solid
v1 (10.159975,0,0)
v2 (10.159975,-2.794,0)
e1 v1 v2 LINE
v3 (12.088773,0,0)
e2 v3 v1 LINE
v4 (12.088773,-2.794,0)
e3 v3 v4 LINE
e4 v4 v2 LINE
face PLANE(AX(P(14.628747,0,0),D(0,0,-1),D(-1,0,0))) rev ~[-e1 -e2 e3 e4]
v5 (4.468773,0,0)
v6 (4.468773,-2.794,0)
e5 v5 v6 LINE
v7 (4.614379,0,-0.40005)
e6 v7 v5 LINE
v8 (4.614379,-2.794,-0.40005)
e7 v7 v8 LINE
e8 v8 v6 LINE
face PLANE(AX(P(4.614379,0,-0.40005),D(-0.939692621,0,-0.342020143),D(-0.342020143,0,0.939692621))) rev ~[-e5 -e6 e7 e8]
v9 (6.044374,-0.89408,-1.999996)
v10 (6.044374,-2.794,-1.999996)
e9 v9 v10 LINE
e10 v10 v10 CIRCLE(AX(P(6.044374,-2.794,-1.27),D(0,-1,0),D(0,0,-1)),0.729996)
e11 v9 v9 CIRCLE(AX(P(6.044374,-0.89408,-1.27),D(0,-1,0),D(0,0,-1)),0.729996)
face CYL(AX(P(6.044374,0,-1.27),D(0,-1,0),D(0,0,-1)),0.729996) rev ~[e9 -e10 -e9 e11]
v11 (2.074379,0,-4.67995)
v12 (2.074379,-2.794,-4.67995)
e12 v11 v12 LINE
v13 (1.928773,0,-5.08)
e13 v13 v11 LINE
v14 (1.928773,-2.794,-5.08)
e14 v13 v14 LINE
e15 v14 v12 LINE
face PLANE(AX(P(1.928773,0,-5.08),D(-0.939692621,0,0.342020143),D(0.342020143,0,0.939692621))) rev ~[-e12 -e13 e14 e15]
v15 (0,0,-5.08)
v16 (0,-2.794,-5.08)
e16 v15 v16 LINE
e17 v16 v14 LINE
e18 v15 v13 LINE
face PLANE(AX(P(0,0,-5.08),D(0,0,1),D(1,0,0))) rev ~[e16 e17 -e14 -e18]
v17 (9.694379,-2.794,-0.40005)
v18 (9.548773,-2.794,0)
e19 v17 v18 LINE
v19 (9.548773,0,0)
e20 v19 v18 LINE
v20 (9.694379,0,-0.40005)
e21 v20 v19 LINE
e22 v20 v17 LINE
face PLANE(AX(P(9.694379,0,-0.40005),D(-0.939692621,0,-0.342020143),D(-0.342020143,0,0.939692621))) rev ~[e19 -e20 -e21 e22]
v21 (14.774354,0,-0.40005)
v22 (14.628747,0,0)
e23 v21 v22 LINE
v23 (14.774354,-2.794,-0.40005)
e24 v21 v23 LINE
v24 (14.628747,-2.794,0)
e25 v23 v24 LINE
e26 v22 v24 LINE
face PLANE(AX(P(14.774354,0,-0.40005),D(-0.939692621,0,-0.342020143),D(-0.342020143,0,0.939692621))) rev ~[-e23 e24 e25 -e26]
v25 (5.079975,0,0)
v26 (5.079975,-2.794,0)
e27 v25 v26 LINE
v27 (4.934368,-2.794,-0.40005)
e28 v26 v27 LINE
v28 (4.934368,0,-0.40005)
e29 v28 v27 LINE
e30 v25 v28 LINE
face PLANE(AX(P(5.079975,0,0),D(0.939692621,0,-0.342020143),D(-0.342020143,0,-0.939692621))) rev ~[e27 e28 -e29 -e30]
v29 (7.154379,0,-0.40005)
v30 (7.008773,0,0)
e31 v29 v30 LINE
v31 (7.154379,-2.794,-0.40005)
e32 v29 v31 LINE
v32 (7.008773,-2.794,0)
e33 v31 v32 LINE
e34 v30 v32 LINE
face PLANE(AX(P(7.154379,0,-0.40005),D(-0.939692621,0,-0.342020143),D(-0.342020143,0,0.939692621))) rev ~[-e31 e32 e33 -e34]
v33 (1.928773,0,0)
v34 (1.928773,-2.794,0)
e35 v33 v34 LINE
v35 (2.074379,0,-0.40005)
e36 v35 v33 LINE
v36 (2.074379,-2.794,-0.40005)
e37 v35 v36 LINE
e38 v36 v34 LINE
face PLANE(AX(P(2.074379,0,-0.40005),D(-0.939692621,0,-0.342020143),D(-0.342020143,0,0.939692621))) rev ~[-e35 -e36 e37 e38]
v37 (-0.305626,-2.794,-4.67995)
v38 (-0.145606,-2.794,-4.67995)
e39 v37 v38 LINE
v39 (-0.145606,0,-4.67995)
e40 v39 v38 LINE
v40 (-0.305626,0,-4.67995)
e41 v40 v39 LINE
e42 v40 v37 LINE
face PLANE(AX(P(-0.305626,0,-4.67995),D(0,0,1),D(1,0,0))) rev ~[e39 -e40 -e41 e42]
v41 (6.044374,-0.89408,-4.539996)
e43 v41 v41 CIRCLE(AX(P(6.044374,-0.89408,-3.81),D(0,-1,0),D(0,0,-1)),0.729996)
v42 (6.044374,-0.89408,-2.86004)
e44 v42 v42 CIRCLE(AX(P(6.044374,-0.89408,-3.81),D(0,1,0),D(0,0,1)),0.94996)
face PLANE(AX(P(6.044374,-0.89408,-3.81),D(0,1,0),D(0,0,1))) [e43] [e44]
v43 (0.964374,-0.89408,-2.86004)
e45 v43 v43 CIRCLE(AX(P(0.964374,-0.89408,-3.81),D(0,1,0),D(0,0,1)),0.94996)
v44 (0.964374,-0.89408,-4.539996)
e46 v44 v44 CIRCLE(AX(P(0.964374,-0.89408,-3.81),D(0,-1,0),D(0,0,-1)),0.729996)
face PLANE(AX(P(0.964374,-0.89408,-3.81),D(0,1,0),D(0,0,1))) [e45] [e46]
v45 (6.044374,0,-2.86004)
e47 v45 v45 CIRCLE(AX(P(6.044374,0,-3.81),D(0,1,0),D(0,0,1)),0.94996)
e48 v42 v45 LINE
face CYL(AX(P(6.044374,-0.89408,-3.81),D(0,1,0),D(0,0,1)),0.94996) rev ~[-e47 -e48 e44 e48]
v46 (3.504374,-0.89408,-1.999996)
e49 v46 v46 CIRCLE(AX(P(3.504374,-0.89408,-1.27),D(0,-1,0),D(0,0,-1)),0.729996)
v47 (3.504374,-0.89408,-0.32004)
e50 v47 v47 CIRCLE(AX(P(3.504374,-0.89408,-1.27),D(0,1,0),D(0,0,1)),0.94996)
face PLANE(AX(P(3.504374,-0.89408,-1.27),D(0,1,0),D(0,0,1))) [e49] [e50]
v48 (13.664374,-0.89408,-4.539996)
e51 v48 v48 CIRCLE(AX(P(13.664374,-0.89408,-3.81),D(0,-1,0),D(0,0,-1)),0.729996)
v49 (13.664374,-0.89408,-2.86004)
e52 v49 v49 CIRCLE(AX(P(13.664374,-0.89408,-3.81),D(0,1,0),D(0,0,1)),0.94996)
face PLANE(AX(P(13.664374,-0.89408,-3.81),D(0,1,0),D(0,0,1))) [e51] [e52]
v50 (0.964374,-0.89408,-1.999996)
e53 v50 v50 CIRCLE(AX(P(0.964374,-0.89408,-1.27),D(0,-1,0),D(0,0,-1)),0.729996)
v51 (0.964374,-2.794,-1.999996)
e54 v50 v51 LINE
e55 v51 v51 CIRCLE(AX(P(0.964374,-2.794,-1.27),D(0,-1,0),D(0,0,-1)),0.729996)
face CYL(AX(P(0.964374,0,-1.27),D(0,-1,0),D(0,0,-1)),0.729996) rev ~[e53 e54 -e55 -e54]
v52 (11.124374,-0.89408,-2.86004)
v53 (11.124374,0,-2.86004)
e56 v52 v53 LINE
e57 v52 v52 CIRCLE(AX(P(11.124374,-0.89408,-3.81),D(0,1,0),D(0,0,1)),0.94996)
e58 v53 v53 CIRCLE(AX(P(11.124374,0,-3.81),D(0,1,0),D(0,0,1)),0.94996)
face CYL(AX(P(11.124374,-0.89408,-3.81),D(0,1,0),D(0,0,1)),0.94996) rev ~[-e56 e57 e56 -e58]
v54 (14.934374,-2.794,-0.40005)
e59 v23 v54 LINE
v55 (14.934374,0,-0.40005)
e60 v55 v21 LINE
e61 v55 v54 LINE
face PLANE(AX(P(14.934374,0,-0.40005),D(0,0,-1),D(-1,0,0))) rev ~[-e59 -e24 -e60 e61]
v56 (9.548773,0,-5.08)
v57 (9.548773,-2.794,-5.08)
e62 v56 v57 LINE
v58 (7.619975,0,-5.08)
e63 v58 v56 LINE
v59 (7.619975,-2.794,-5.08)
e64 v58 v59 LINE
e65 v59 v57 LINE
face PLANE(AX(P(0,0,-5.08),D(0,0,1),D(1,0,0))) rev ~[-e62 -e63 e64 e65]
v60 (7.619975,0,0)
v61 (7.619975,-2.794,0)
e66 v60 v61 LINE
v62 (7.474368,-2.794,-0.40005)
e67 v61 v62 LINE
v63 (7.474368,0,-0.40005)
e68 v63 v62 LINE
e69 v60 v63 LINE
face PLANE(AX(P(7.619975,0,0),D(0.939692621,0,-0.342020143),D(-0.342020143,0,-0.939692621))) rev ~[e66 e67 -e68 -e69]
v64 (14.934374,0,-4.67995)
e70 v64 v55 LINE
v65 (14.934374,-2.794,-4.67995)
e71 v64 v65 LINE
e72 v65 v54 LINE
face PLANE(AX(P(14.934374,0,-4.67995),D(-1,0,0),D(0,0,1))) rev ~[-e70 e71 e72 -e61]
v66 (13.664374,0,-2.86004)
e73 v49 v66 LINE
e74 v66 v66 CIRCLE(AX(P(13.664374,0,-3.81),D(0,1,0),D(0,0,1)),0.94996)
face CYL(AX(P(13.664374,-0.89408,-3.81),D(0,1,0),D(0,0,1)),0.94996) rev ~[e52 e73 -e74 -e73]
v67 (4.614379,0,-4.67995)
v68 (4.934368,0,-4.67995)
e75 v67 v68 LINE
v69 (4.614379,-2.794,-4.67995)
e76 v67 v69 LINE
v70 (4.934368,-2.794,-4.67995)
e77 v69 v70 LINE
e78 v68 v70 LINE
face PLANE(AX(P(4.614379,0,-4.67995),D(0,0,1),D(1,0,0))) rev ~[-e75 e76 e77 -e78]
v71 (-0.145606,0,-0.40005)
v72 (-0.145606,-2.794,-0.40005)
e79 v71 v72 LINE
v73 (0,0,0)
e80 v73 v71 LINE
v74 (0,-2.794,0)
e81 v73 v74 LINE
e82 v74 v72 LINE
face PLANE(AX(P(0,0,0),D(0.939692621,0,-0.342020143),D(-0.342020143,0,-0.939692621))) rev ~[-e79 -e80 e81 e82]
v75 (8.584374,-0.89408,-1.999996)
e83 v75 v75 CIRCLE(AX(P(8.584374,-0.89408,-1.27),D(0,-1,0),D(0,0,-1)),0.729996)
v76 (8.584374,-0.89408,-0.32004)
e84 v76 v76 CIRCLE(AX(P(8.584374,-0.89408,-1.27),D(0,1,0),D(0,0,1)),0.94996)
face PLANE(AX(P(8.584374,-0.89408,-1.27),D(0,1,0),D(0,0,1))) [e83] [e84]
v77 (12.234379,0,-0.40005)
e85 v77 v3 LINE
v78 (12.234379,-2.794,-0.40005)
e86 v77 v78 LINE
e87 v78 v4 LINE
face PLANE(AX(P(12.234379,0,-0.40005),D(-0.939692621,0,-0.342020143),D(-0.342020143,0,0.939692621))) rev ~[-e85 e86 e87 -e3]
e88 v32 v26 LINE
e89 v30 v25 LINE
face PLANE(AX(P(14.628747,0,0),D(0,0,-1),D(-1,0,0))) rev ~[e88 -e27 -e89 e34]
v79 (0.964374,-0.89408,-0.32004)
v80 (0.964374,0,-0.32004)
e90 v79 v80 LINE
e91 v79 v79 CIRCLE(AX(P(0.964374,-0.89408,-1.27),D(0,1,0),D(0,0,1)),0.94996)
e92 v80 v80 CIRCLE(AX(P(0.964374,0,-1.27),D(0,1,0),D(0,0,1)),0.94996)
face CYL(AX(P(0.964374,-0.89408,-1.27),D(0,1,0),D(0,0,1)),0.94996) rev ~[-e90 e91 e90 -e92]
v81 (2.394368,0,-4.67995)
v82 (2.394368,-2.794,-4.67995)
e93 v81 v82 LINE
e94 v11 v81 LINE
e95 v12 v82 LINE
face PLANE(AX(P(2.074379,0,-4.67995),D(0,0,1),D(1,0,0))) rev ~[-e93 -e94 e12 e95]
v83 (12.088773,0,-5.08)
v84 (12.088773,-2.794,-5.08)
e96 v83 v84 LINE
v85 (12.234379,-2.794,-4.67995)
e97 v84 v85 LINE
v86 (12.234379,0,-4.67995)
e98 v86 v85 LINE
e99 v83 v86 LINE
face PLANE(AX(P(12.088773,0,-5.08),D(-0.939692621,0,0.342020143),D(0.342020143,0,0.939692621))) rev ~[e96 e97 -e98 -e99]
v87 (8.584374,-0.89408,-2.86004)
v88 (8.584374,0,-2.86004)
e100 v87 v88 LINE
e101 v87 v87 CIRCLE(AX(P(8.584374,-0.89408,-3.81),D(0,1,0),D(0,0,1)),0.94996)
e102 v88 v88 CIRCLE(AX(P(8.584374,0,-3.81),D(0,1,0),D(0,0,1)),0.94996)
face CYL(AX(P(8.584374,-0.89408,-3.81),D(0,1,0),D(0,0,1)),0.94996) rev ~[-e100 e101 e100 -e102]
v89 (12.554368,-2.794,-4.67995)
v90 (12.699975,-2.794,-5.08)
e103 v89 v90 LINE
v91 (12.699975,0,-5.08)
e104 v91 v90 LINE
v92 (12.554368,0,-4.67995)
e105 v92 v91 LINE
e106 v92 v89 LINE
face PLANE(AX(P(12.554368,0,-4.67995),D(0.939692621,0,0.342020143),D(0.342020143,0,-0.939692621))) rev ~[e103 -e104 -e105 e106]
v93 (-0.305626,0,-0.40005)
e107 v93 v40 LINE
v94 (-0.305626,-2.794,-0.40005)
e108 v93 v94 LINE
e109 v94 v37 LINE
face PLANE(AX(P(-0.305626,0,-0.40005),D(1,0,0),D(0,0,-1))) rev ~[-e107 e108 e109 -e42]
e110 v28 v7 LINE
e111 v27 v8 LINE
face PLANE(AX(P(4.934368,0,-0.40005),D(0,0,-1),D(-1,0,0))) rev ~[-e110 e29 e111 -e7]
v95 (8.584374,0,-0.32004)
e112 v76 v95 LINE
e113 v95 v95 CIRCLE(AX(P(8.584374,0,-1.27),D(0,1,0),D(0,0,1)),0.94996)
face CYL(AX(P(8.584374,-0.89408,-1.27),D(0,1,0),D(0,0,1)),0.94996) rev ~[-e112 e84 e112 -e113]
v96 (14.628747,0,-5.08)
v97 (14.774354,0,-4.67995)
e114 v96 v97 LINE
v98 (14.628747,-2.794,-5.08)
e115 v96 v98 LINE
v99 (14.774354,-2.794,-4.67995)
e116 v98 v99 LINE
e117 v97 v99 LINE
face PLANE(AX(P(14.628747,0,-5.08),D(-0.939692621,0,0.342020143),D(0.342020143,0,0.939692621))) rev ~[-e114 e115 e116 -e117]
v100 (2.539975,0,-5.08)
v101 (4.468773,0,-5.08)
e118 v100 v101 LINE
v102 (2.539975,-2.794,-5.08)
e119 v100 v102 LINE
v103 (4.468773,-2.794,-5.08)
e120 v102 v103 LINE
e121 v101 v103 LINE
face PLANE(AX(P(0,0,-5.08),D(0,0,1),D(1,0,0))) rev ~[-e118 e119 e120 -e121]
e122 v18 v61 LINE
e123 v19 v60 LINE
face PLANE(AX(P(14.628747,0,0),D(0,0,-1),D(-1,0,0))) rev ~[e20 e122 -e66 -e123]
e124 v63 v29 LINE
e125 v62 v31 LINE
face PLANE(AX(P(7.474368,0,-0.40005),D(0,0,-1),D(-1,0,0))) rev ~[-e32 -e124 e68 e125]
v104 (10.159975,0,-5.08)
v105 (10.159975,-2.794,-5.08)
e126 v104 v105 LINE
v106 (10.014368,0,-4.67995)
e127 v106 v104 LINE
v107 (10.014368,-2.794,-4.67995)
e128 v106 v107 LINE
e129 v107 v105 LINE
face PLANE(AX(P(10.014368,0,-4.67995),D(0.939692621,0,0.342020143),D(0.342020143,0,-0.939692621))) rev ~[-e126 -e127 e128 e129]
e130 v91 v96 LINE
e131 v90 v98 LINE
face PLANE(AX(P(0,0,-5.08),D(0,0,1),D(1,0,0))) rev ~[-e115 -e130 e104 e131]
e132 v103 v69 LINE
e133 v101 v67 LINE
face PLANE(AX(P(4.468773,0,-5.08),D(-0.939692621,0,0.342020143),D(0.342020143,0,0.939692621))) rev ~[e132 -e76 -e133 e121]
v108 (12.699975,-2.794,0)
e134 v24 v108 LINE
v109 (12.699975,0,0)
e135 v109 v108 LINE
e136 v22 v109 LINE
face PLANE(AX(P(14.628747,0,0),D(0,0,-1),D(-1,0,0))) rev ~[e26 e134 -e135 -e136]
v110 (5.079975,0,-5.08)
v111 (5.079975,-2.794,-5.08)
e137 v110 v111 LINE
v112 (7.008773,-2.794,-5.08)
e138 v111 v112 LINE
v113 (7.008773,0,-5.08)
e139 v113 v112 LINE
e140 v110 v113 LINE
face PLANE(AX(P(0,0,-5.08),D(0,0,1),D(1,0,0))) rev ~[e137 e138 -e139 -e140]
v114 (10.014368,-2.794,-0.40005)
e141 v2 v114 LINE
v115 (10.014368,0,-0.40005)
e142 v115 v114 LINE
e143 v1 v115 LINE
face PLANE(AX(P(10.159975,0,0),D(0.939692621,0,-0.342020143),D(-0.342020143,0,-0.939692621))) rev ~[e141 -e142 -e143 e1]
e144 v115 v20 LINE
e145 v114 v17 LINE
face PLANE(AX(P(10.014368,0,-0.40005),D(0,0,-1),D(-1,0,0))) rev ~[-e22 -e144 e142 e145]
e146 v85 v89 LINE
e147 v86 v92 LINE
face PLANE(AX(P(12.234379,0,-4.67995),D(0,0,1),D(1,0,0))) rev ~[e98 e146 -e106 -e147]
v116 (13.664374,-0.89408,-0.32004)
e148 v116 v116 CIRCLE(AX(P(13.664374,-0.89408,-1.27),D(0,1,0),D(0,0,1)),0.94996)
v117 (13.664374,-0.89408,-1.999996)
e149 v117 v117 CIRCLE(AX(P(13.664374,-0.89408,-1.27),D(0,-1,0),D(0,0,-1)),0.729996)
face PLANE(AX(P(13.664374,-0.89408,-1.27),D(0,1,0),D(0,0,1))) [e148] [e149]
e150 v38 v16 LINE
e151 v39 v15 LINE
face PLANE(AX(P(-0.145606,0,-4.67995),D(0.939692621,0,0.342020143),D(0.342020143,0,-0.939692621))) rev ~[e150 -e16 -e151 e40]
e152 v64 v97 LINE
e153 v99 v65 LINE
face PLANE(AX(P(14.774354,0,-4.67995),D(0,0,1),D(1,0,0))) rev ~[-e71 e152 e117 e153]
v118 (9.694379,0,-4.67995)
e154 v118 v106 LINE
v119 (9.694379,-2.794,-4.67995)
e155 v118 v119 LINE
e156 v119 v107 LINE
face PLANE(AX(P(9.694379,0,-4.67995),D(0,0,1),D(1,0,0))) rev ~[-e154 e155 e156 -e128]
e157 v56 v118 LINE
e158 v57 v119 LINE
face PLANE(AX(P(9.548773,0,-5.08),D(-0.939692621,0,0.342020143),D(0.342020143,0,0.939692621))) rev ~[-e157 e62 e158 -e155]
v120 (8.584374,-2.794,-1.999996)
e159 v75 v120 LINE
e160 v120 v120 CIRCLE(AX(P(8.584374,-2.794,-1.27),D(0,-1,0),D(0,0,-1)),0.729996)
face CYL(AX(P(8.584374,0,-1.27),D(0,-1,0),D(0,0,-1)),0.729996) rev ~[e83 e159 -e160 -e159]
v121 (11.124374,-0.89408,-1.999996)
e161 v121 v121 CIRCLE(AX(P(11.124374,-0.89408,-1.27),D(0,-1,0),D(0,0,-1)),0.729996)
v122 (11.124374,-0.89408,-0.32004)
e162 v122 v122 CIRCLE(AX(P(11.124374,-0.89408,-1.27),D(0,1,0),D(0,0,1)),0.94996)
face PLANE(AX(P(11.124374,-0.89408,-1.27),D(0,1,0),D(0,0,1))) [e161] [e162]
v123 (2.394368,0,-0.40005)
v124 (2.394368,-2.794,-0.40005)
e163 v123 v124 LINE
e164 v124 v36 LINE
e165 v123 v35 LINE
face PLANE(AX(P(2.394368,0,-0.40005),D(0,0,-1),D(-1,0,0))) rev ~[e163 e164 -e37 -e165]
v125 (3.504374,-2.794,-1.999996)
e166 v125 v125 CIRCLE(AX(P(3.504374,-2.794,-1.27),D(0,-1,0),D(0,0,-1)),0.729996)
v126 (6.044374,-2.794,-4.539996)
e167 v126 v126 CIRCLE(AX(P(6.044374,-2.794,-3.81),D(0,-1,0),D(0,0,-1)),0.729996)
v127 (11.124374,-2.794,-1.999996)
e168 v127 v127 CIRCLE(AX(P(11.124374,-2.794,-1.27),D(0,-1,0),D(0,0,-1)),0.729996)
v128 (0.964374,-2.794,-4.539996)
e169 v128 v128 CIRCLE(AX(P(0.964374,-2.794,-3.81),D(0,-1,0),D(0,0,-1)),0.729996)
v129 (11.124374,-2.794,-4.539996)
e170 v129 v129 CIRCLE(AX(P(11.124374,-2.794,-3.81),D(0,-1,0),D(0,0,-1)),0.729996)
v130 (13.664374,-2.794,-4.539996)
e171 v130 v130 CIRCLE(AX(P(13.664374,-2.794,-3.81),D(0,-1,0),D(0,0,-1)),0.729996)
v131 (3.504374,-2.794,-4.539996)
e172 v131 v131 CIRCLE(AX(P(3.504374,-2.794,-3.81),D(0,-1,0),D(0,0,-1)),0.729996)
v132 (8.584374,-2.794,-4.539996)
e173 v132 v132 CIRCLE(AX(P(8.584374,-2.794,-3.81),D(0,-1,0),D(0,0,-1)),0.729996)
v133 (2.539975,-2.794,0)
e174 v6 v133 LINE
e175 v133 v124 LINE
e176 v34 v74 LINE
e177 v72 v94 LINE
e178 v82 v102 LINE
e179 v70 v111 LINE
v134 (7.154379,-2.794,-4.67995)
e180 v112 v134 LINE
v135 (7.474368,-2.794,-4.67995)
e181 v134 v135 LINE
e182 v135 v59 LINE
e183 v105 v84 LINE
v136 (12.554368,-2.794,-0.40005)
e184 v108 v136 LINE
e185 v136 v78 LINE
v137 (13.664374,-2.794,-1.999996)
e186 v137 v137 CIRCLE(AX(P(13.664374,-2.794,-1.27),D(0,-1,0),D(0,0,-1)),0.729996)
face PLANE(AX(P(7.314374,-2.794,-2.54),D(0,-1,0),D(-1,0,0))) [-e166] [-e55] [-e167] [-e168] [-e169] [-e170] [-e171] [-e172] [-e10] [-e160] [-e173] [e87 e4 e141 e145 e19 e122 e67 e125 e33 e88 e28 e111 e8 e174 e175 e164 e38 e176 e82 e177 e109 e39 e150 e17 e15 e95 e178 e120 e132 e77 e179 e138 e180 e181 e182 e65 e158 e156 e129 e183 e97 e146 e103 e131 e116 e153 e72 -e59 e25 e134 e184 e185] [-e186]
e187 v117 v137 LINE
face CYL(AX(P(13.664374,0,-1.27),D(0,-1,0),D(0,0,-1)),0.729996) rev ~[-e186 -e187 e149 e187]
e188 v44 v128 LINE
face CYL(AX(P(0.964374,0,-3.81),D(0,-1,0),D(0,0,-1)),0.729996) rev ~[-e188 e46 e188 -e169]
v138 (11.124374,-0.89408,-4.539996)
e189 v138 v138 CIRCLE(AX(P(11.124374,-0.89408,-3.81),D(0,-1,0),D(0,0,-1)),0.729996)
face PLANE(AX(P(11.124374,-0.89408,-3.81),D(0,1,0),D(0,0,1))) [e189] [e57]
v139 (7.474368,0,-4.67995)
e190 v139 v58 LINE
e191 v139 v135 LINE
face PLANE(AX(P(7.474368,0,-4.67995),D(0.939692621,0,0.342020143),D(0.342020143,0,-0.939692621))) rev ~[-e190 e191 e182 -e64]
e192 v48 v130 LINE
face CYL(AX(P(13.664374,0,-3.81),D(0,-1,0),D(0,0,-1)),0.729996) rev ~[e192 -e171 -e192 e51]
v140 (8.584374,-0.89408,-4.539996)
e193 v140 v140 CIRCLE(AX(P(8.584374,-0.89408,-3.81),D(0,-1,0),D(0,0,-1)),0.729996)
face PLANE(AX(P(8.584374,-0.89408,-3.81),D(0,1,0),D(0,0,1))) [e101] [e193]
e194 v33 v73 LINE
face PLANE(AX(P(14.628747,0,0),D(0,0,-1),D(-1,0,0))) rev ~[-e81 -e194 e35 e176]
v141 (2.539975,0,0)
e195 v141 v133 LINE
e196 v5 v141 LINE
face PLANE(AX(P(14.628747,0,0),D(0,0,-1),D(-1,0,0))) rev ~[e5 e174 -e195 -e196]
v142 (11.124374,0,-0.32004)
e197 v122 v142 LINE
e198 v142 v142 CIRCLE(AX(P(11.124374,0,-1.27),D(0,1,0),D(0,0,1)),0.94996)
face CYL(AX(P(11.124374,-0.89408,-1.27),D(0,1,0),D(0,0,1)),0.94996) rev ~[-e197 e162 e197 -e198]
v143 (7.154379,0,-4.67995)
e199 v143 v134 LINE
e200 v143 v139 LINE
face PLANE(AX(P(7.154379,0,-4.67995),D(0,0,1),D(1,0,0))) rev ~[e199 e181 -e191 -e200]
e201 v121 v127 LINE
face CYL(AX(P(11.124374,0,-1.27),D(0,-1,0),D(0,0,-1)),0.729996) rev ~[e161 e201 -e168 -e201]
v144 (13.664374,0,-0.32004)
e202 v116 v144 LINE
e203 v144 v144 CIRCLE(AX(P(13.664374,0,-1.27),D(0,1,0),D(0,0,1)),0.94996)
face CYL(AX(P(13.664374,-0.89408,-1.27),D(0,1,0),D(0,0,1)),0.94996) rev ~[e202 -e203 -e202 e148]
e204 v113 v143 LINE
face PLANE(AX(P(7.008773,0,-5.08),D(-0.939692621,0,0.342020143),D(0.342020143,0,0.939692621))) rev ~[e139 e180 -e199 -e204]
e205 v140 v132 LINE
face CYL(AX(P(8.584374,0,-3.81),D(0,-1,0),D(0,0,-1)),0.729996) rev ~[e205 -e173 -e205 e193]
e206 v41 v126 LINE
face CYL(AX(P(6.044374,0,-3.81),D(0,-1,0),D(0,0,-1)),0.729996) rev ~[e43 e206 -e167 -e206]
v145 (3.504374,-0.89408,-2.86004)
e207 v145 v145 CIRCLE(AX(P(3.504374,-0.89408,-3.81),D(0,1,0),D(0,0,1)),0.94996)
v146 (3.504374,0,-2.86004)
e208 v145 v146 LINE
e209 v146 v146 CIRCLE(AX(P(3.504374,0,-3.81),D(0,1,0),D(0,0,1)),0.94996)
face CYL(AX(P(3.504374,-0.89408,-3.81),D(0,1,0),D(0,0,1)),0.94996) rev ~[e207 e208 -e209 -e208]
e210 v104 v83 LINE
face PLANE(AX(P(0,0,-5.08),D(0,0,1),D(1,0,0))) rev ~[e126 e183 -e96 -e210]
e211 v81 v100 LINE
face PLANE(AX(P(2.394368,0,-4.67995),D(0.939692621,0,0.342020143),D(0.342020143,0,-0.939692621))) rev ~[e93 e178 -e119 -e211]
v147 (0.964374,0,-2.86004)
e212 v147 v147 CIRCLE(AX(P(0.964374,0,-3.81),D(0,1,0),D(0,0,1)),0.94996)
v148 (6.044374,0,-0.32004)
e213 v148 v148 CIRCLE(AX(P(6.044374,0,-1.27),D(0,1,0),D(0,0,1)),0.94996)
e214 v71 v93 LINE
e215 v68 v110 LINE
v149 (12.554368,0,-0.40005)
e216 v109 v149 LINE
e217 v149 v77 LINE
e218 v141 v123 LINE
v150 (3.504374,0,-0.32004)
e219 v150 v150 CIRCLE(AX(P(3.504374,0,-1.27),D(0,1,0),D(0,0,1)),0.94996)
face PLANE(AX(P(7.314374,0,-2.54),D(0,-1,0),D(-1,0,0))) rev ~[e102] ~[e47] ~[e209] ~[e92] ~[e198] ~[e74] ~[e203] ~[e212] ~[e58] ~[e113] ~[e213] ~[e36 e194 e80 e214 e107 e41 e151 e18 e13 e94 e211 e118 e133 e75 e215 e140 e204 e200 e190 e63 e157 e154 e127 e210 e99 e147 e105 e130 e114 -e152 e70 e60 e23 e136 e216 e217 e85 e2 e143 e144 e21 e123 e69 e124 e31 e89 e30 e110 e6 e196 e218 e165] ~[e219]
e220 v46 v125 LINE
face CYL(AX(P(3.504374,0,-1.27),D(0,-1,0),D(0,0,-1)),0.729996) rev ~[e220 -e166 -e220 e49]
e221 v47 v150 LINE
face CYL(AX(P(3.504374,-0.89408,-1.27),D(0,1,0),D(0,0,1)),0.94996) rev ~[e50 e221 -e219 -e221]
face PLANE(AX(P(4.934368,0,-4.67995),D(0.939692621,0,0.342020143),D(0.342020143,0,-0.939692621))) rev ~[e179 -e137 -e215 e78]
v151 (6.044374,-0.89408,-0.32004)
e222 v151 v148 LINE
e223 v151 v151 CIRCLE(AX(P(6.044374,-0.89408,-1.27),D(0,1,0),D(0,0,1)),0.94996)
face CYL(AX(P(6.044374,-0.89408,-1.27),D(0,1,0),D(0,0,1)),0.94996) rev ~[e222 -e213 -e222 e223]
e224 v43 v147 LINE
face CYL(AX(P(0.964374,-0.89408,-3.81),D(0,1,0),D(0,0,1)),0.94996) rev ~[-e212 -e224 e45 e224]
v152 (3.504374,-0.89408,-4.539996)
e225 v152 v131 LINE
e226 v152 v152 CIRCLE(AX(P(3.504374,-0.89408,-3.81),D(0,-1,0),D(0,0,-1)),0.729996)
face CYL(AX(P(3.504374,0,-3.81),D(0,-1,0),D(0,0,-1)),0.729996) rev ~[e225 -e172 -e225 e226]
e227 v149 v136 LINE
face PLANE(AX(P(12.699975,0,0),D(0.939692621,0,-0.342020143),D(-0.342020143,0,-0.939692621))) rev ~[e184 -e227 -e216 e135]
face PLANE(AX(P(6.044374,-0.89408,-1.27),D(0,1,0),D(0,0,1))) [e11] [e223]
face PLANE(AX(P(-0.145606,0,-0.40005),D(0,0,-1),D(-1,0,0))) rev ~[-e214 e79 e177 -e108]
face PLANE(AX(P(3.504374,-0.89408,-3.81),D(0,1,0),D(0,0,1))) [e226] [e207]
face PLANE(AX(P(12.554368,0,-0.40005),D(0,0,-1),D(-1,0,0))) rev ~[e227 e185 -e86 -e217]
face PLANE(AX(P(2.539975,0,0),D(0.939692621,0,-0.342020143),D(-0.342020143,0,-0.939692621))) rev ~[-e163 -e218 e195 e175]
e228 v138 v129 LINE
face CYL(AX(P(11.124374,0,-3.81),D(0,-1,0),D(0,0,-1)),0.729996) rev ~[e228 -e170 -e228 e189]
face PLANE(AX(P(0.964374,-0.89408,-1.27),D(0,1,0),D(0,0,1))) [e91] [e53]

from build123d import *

# Parameters (mm, degrees)
EXTRUDE1_DEPTH          = 2.794
HOLE1_D                 = 1.459992
HOLE1_CBORE_D           = 1.89992
HOLE1_CBORE_DEPTH       = 0.89408
EXTRUDE2_DEPTH          = 2.794
HOLE_PATTERN_COUNT      = 32
HOLE_PATTERN_PITCH      = 2.54
HOLE_PATTERN_COUNT_DIR2 = 2
HOLE_PATTERN_PITCH_DIR2 = 2.54
SLOT_PATTERN_COUNT      = 31
SLOT_PATTERN_PITCH      = 2.54


with BuildPart() as part:
    # Sketch1 → Extrude1 (new body)
    with BuildSketch(Plane(origin=(0, 0, 0), x_dir=(1, 0, 0), z_dir=(0, 1, 0))):
        Polygon((14.934373708, 0.40005), (14.774353708, 0.40005), (14.628747416, 0), (0, 0), (-0.145606292, 0.40005), (-0.305626292, 0.40005), (-0.305626292, 4.67995), (-0.145606292, 4.67995), (0, 5.08), (14.628747416, 5.08), (14.774353708, 4.67995), (14.934373708, 4.67995), align=None)
    extrude(amount=-EXTRUDE1_DEPTH)

    # Hole1 (through all)
    with Locations(Plane(origin=(0.964373708, 0, -1.27), x_dir=(0, 0, 1), z_dir=(0, 1, 0))):
        with Locations((0, 0)):
            hole1 = CounterBoreHole(HOLE1_D / 2, HOLE1_CBORE_D / 2, HOLE1_CBORE_DEPTH)

    # Sketch4 → Extrude2 (cut)
    with BuildSketch(Plane(origin=(0, 0, 0), x_dir=(1, 0, 0), z_dir=(0, 1, 0))):
        Polygon((1.928772816, 0), (2.5399746, 0), (2.394368308, 0.40005), (2.074379108, 0.40005), align=None)
        Polygon((2.074379108, 4.67995), (2.394368308, 4.67995), (2.5399746, 5.08), (1.928772816, 5.08), align=None)
    extrude2 = extrude(amount=-EXTRUDE2_DEPTH, mode=Mode.SUBTRACT)

    # Hole Pattern: Hole1 32 × 2
    with Locations(*[(i * HOLE_PATTERN_PITCH, 0, -j * HOLE_PATTERN_PITCH_DIR2) for i in range(HOLE_PATTERN_COUNT) for j in range(HOLE_PATTERN_COUNT_DIR2) if (i, j) != (0, 0)]):
        add(hole1, mode=Mode.SUBTRACT)

    # Slot Pattern: Extrude2 ×31
    with Locations(*[(i * SLOT_PATTERN_PITCH, 0, 0) for i in range(1, SLOT_PATTERN_COUNT)]):
        add(extrude2, mode=Mode.SUBTRACT)


solid = part.part
